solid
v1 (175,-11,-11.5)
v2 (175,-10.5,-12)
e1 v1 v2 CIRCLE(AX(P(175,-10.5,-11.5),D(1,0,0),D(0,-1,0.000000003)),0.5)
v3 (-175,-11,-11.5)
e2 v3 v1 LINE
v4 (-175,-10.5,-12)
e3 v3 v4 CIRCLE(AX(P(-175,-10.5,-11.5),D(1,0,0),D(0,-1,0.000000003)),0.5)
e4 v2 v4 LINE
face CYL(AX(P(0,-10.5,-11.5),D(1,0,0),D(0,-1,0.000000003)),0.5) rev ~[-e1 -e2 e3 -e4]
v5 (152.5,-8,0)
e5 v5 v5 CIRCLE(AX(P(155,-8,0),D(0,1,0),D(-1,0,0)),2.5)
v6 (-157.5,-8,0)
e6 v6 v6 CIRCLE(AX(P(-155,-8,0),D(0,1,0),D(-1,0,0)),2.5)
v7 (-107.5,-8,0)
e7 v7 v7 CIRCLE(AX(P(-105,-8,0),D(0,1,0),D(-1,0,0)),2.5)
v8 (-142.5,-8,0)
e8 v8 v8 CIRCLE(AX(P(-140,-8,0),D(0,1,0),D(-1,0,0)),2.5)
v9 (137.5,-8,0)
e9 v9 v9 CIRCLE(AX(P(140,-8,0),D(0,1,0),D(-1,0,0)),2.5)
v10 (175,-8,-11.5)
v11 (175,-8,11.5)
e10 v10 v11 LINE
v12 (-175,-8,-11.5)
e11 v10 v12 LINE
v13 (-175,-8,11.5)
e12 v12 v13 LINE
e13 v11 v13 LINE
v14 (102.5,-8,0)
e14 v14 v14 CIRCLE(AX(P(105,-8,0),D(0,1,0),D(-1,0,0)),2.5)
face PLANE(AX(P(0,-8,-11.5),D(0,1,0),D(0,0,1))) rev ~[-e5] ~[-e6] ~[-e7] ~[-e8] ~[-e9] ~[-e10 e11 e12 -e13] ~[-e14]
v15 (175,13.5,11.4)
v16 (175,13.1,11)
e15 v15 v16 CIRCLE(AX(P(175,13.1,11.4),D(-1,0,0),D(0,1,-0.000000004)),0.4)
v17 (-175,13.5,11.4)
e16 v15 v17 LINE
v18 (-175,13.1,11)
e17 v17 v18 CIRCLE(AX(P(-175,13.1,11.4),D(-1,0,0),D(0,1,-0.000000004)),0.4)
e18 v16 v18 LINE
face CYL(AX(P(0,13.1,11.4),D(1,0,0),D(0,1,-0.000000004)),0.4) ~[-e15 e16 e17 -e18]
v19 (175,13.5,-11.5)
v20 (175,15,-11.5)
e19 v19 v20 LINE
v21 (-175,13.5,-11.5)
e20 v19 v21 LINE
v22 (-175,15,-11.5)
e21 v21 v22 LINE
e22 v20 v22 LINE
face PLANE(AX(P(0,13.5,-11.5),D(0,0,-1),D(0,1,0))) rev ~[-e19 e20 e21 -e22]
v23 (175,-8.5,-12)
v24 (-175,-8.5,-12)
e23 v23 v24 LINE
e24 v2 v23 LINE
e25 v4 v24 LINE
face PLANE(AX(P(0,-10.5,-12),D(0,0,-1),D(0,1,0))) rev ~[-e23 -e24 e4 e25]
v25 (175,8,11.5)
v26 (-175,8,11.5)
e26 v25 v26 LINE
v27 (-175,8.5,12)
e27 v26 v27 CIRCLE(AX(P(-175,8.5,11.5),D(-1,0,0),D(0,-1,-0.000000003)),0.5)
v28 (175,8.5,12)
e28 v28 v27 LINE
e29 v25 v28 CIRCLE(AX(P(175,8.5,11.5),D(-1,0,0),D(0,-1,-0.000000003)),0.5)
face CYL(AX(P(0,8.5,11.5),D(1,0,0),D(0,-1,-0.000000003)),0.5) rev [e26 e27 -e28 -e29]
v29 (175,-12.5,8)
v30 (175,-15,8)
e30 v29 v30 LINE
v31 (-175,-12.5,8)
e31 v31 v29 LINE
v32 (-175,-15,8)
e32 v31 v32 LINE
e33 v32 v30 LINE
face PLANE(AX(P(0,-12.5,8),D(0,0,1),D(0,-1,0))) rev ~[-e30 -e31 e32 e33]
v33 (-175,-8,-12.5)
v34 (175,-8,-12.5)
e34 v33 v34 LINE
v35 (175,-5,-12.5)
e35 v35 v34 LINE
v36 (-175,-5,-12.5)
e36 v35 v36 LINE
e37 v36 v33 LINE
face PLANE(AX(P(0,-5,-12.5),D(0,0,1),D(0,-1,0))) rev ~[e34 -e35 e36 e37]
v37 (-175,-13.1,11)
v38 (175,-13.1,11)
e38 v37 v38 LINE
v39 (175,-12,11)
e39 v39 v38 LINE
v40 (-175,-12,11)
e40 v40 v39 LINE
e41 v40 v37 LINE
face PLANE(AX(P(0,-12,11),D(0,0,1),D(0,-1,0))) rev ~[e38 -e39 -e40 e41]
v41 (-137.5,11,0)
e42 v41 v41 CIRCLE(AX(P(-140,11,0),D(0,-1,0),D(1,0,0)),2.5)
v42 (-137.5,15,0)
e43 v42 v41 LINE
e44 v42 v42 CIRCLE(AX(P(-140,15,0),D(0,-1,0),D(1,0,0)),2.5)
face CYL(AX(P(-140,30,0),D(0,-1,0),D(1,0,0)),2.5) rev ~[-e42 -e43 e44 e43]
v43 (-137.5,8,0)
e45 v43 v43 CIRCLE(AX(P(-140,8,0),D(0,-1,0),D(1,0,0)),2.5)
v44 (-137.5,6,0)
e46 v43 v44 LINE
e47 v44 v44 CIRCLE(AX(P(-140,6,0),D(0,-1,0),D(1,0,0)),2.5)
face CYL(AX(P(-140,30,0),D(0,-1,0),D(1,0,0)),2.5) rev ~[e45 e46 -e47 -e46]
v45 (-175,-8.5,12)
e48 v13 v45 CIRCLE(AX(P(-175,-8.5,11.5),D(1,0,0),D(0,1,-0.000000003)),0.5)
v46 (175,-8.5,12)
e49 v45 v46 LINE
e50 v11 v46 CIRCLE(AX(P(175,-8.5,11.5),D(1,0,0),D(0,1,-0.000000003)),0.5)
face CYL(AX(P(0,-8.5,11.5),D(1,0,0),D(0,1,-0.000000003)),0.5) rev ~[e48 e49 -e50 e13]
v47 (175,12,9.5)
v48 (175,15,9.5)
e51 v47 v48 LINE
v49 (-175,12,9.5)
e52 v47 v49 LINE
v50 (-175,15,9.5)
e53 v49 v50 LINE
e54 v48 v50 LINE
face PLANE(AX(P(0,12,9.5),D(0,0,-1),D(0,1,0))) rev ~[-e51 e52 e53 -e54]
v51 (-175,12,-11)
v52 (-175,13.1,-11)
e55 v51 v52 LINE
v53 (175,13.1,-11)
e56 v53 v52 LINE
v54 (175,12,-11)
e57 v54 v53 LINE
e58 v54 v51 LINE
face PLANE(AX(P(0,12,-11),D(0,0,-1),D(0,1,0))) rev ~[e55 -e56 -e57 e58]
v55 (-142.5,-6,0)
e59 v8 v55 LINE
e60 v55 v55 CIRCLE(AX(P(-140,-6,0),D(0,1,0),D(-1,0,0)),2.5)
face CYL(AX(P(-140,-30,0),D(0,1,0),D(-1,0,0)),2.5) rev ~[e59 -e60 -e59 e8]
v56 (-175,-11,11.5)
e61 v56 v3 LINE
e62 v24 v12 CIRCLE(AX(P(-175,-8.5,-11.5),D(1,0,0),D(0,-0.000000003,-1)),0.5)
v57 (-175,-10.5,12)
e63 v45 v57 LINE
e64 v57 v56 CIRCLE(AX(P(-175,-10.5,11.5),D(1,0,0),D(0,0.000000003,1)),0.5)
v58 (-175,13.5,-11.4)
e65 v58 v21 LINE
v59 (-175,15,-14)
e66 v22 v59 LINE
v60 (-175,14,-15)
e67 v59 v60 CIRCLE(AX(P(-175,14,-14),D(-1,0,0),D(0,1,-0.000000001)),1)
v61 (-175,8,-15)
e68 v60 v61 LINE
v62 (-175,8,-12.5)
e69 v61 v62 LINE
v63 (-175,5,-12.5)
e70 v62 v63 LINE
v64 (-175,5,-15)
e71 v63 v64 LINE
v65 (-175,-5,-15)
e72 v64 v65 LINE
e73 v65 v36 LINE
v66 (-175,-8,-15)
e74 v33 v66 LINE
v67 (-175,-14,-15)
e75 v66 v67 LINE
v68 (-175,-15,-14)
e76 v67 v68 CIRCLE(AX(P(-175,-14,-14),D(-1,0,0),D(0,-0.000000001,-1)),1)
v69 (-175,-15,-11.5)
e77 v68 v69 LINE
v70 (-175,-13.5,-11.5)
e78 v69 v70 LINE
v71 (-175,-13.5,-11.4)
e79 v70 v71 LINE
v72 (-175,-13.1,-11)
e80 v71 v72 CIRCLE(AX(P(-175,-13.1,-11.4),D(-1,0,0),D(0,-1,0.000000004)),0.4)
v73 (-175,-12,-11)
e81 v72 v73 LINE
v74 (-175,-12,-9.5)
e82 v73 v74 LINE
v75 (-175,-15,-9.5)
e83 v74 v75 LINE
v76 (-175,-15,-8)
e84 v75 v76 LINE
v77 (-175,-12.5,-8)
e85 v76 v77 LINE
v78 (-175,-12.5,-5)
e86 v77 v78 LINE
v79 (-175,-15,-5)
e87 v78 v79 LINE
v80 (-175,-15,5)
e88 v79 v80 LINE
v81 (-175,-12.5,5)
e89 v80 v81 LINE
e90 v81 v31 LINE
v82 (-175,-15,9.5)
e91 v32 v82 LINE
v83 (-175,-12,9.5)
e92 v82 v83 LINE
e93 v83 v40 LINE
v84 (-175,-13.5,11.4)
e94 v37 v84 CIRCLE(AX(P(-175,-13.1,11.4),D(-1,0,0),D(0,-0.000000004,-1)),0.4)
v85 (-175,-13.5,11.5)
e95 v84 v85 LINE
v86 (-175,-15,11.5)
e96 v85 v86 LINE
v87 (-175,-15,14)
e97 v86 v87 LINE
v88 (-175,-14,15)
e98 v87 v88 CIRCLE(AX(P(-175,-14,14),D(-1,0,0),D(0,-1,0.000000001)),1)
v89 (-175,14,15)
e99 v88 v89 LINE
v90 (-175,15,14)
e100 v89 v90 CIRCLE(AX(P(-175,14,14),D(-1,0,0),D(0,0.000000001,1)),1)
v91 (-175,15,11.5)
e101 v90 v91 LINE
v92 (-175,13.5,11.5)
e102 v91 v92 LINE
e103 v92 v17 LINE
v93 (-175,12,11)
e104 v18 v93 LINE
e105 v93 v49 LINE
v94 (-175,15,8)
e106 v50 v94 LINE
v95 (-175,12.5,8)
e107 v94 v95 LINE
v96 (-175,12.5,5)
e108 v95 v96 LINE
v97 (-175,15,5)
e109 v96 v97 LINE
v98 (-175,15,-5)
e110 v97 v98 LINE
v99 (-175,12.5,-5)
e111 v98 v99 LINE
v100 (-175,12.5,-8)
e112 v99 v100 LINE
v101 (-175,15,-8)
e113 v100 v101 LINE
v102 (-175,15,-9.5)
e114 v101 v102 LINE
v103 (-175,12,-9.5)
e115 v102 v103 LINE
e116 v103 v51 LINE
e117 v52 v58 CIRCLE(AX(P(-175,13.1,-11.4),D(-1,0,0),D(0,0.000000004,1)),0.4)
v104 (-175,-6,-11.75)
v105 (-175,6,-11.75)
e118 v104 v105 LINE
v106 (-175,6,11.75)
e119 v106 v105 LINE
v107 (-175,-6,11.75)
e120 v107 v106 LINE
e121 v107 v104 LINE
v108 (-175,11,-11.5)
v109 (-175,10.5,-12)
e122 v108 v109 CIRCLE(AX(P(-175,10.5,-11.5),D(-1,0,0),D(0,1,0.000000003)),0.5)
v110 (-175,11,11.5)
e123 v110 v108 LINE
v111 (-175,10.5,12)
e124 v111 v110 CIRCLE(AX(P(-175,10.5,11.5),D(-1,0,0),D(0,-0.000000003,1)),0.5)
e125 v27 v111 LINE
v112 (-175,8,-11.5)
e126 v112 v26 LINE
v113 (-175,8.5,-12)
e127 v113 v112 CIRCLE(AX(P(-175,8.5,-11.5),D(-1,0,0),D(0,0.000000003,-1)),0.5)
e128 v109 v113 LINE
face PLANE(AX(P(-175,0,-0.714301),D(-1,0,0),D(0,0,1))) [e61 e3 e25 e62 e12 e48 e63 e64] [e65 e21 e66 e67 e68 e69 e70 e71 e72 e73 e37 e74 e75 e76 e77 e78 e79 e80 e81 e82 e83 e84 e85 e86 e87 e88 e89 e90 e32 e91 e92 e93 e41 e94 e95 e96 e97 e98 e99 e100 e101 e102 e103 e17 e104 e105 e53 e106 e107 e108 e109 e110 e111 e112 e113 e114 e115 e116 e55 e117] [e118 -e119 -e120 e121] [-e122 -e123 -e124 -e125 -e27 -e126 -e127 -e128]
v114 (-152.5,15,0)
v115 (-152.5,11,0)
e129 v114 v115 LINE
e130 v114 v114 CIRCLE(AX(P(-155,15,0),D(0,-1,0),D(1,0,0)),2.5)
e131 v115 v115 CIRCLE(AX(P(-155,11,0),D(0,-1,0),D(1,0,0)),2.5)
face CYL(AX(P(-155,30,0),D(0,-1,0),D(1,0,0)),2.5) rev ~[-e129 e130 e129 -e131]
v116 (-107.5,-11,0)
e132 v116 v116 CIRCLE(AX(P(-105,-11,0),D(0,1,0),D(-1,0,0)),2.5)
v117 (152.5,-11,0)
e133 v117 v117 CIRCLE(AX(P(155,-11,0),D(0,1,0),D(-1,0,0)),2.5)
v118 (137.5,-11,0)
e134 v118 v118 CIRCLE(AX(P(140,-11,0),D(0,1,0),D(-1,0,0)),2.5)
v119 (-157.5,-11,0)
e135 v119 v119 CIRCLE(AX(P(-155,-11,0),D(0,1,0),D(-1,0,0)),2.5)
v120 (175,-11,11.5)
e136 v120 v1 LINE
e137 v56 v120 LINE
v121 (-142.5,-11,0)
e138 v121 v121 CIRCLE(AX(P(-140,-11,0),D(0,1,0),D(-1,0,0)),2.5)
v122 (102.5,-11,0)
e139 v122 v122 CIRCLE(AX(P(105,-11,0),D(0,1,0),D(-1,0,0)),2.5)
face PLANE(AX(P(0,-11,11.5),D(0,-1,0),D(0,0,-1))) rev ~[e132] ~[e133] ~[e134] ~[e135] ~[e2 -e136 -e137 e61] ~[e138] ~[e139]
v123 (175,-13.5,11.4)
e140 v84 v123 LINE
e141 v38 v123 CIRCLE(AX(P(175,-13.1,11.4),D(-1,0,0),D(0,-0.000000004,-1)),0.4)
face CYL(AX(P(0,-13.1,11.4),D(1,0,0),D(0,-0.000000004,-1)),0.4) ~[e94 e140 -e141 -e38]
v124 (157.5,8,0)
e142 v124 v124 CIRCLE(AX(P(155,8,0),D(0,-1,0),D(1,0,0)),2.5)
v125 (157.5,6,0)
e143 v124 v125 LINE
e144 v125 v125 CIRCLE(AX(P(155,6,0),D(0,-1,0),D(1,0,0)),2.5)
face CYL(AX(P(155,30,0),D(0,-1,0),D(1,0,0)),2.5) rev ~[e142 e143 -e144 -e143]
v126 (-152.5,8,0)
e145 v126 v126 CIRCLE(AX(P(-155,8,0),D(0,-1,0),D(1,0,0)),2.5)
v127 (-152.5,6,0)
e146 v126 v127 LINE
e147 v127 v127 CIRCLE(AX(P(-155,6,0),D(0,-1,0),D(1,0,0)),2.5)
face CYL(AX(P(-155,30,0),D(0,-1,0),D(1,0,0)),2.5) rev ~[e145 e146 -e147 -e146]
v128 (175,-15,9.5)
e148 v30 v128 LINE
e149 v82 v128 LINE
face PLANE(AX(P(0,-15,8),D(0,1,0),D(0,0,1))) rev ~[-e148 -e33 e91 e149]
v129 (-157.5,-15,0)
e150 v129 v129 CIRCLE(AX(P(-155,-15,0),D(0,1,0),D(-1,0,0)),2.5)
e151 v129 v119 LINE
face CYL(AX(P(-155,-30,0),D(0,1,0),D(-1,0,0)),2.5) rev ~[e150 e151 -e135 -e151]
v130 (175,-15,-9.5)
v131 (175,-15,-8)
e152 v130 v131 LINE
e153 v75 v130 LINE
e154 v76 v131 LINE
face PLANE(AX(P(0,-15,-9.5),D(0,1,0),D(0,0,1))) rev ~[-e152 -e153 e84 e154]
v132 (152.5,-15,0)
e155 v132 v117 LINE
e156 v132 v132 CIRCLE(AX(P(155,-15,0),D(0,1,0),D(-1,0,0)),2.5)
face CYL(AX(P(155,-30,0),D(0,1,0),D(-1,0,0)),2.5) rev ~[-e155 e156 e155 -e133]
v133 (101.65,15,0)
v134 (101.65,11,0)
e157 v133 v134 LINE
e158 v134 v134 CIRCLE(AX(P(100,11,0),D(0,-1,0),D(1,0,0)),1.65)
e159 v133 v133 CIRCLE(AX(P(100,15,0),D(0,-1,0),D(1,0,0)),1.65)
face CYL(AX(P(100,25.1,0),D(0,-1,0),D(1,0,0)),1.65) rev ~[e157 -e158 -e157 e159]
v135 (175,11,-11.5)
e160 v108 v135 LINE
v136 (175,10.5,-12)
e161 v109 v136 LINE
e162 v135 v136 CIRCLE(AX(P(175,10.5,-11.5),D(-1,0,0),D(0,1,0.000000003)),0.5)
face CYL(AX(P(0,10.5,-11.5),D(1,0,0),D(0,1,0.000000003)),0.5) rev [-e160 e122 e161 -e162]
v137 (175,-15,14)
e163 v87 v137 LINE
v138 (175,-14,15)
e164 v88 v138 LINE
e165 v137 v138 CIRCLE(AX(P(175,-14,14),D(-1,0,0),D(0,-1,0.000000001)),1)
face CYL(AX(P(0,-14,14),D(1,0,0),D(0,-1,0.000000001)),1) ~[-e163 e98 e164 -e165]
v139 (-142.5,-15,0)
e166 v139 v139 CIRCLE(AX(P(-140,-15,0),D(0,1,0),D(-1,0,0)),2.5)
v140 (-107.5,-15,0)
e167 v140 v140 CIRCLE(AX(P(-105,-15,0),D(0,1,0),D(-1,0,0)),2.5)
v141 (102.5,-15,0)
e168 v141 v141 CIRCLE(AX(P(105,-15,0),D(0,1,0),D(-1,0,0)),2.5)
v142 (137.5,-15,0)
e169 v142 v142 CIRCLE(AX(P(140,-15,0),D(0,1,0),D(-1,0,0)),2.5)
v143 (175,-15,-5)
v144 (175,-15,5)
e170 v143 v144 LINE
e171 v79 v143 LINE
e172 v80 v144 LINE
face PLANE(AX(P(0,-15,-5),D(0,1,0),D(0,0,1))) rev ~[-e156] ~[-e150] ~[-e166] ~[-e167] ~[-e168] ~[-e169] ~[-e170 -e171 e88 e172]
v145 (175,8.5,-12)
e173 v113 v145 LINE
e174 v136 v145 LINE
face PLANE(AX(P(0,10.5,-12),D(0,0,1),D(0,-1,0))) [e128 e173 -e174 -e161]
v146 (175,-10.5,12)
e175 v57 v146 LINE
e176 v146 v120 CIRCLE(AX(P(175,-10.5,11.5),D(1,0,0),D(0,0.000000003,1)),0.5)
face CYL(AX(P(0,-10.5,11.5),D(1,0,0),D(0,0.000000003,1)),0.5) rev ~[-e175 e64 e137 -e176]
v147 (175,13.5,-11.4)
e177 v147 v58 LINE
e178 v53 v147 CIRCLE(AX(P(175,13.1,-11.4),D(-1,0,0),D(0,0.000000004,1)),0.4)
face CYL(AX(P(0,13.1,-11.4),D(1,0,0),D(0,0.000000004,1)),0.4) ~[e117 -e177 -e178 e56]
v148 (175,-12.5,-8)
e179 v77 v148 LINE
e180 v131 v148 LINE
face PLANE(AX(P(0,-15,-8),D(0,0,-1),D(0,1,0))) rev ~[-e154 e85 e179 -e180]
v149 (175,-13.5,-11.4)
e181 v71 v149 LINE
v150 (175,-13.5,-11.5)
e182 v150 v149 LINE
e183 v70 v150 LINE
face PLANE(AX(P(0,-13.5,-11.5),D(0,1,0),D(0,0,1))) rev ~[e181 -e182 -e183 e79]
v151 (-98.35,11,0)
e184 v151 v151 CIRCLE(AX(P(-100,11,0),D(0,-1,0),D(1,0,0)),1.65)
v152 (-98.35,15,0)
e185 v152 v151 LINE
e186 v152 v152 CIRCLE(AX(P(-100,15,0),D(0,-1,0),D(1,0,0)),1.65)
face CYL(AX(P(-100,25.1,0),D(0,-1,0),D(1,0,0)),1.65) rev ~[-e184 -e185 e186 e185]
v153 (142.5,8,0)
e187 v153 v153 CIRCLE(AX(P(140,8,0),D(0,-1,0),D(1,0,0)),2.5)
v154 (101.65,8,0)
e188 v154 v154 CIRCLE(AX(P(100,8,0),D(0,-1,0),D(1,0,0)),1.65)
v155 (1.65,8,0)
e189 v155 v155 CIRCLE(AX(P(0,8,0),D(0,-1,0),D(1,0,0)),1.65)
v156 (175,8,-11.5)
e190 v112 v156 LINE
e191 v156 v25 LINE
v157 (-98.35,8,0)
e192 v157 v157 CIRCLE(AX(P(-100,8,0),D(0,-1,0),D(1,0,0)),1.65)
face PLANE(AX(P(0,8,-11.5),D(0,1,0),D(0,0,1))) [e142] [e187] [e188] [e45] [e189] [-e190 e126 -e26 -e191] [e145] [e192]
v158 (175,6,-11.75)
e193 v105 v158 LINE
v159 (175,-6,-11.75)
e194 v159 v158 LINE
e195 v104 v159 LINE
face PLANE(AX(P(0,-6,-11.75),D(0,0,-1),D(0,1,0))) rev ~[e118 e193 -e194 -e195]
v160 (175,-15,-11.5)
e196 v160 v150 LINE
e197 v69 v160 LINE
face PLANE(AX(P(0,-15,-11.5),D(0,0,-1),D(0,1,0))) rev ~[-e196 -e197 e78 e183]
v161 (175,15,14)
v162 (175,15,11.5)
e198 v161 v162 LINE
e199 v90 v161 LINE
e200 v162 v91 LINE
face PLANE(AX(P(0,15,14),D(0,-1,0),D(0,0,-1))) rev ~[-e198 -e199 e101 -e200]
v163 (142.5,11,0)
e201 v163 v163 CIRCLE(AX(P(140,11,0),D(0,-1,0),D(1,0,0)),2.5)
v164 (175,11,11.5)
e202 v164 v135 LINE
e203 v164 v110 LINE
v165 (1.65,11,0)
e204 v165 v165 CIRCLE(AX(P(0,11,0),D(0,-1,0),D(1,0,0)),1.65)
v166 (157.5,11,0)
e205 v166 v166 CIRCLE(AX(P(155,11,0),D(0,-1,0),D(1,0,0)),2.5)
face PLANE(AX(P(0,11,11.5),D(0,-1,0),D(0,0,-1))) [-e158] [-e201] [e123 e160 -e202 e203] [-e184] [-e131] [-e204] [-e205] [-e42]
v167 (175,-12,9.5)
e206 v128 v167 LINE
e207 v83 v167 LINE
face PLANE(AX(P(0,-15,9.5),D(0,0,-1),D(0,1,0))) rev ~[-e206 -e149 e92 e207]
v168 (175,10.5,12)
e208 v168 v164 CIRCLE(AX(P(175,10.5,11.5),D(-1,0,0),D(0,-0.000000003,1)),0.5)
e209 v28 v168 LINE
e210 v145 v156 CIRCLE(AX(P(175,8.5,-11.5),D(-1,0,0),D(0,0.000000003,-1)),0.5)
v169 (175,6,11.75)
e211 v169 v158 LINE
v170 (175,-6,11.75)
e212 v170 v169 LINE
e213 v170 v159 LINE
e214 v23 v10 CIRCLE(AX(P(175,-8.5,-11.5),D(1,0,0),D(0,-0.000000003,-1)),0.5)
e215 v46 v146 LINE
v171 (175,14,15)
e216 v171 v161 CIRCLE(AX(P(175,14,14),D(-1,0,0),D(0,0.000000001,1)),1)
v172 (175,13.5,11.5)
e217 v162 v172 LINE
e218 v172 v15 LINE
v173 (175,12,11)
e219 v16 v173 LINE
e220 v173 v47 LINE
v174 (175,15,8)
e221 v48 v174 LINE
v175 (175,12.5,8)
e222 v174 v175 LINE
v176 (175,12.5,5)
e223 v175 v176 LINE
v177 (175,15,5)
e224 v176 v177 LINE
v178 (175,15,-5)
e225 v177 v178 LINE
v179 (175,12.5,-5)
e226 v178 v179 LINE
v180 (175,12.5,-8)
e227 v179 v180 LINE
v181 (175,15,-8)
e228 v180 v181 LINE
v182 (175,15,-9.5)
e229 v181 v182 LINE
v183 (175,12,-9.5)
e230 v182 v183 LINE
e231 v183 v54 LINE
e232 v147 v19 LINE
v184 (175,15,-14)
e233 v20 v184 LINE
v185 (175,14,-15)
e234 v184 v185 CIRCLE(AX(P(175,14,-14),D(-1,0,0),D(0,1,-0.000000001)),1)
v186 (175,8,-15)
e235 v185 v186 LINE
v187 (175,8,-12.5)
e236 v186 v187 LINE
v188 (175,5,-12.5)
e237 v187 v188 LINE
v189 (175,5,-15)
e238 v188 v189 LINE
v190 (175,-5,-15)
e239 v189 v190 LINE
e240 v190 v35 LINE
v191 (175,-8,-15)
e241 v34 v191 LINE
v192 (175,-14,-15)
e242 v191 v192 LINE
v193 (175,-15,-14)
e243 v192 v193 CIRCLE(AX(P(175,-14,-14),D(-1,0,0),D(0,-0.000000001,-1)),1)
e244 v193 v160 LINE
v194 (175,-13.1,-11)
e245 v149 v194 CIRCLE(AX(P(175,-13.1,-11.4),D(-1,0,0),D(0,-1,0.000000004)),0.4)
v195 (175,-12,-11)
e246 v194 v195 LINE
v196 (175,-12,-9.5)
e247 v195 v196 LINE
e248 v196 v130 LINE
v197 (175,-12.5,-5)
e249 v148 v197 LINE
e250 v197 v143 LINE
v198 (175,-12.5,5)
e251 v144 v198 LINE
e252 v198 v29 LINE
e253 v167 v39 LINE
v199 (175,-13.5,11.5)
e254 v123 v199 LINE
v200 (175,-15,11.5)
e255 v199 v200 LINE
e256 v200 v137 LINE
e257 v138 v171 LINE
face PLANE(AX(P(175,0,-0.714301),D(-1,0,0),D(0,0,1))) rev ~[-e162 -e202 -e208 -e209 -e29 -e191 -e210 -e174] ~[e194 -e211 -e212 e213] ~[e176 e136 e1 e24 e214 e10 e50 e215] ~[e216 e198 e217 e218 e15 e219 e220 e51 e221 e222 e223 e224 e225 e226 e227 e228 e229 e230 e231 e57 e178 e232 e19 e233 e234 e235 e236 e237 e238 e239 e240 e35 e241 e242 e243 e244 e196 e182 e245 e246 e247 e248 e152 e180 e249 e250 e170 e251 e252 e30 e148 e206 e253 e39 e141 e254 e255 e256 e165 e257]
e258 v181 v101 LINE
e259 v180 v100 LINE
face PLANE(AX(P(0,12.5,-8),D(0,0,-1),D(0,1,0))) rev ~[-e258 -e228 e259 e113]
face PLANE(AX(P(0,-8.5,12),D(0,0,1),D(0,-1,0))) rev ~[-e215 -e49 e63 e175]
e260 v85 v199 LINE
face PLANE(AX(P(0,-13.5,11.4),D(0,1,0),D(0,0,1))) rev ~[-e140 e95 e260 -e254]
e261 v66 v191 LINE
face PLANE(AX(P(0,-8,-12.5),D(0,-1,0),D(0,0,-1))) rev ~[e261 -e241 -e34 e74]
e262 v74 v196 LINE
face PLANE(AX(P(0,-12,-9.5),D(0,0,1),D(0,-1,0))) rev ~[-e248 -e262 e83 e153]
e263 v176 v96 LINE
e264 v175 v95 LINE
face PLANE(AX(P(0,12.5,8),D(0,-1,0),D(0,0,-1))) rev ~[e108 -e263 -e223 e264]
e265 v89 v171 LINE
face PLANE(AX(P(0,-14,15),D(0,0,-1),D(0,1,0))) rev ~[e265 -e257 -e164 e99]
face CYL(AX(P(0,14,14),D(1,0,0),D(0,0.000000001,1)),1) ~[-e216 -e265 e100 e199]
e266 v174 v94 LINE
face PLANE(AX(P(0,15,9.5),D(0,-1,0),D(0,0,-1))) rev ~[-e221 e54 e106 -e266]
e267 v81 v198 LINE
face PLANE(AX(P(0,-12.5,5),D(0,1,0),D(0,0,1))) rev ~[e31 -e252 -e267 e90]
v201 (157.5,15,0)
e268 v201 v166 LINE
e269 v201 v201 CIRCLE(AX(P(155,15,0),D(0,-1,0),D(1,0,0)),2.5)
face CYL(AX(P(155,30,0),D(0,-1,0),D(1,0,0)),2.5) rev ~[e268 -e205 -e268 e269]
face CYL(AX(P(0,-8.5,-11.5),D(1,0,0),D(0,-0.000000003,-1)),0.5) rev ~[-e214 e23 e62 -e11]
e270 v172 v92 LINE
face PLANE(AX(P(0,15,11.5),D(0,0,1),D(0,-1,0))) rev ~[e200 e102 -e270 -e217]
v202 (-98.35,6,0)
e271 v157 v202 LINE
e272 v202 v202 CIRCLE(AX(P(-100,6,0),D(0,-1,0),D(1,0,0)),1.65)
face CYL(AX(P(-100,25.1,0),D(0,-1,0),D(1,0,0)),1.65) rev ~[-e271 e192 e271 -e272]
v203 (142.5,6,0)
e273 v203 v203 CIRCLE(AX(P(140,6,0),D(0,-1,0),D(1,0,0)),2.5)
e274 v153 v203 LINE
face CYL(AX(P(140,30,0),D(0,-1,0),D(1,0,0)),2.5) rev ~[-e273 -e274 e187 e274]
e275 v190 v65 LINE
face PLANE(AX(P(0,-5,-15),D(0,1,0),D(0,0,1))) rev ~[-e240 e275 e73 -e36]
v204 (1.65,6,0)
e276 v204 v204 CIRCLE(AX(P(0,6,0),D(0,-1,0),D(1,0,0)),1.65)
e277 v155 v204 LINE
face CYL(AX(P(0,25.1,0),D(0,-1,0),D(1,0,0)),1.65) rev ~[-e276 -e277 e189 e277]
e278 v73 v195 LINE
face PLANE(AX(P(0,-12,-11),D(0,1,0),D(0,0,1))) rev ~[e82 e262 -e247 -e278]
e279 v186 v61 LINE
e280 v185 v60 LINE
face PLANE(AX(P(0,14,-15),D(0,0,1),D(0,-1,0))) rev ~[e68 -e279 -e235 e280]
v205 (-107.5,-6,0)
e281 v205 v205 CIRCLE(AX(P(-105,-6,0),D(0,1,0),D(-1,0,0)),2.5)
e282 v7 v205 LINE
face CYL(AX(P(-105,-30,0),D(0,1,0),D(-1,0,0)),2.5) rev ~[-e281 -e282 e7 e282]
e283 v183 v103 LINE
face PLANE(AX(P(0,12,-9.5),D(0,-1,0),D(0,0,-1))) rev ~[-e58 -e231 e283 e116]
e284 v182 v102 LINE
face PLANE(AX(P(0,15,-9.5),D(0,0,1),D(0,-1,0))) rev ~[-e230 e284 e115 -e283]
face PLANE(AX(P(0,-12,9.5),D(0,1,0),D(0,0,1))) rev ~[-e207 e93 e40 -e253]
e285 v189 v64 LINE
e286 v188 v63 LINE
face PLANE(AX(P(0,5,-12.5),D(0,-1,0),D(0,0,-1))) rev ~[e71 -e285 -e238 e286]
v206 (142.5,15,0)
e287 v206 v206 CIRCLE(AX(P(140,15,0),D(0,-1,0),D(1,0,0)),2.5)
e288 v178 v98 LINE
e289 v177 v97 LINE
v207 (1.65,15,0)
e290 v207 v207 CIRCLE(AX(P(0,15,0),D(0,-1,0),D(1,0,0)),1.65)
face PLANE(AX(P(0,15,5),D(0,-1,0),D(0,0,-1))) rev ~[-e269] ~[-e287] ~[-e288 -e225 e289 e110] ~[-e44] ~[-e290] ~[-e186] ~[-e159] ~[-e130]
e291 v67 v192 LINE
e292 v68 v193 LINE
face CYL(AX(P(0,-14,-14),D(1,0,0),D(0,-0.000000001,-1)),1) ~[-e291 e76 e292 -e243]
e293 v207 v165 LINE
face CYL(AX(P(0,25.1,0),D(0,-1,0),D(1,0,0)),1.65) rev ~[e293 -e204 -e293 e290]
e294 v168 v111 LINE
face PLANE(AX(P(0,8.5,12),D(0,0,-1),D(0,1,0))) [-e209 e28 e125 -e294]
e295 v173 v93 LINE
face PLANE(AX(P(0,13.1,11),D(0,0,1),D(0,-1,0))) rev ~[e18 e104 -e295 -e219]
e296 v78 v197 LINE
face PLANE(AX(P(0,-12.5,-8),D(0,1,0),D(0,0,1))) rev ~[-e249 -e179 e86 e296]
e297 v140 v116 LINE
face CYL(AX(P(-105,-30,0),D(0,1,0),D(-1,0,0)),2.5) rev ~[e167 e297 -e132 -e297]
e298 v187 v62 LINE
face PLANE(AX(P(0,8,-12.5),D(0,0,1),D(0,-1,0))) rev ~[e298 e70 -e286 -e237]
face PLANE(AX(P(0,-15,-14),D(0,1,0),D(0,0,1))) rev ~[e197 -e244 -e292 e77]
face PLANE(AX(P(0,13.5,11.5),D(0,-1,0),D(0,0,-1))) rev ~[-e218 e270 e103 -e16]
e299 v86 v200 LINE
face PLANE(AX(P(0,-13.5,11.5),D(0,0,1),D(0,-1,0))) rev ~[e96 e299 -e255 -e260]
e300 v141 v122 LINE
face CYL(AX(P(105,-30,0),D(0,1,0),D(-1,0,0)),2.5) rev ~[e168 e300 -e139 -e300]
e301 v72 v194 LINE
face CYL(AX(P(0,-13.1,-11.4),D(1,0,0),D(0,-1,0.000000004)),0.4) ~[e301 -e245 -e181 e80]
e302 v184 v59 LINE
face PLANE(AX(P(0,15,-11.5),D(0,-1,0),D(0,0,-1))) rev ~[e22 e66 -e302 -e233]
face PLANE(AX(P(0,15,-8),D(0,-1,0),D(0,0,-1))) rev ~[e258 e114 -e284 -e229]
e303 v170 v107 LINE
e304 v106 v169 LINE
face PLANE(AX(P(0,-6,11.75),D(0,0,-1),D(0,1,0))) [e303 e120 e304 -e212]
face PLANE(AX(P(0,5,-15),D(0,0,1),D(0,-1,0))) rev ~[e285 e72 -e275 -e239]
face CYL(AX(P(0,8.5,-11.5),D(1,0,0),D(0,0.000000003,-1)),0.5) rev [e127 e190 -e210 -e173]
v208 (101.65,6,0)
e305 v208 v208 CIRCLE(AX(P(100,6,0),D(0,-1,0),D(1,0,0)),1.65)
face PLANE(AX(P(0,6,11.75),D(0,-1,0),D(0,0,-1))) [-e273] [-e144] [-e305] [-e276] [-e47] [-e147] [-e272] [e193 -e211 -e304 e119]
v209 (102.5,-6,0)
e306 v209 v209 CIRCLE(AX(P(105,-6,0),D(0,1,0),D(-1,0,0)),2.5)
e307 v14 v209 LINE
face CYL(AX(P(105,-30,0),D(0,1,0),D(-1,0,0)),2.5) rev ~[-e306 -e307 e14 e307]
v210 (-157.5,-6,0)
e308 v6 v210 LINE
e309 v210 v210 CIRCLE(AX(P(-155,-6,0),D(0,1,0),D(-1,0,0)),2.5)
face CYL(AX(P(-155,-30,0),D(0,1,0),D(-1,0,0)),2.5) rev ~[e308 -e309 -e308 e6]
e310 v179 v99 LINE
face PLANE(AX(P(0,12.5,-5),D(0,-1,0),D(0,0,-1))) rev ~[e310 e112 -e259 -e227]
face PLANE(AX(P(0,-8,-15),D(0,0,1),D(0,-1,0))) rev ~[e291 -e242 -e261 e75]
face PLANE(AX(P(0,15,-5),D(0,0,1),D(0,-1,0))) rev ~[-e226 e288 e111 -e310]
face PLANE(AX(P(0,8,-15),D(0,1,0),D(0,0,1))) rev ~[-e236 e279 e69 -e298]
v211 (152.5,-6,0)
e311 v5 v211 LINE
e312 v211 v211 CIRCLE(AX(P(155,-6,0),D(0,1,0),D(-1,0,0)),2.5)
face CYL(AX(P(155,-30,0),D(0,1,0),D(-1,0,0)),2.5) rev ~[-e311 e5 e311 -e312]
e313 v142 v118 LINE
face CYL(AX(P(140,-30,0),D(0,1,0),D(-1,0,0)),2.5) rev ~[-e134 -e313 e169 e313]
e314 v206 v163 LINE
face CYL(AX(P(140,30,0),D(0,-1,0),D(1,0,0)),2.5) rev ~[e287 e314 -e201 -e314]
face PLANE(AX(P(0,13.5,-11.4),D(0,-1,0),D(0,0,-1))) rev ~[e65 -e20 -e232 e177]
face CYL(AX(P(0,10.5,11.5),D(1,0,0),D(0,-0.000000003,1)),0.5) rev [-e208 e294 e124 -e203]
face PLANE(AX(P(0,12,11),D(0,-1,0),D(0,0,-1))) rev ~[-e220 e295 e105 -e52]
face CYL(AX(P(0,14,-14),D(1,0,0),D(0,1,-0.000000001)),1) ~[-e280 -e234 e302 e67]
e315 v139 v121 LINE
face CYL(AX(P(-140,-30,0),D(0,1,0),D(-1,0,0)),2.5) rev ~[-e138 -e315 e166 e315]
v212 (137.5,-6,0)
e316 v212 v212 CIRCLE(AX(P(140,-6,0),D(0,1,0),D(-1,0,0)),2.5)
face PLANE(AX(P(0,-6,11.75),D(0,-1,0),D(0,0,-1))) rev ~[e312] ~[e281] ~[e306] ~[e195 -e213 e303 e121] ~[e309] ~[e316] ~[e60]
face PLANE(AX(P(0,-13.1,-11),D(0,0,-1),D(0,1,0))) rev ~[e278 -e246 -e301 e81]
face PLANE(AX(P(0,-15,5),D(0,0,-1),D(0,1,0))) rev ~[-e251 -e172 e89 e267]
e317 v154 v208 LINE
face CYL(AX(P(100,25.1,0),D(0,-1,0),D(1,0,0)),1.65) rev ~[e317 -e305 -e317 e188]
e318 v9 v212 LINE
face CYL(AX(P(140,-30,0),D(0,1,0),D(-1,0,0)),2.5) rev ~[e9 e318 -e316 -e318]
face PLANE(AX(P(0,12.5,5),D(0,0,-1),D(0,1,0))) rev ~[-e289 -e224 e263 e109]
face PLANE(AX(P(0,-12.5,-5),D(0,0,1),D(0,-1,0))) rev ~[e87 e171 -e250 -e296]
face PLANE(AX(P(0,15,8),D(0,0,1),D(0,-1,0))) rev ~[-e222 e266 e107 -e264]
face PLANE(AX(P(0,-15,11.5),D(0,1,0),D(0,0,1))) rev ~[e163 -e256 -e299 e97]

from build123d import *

# Parameters (mm, degrees)
SKETCH_1_W             = 23.5
SKETCH_1_H             = 12
EXTRUDE_1_DEPTH        = 175
HOLE_WIZARD_M6_1_D     = 5
HOLE_WIZARD_M6_1_DEPTH = 15
HOLE_WIZARD_M6_1_TIP   = 1.502151548
HOLE_WIZARD_M6_2_D     = 5
HOLE_WIZARD_M6_2_DEPTH = 15
HOLE_WIZARD_M6_2_TIP   = 1.502151548
HOLE_WIZARD_M4_1_D     = 3.3
HOLE_WIZARD_M4_1_DEPTH = 10.1
HOLE_WIZARD_M4_1_TIP   = 0.991420021
HOLE_WIZARD_M6_3_D     = 5
HOLE_WIZARD_M6_3_DEPTH = 15
HOLE_WIZARD_M6_3_TIP   = 1.502151548


with BuildPart() as part:
    # 草图1 → 凸台-拉伸1 (new, symmetric)
    with BuildSketch(Plane(origin=(0, 0, 0), x_dir=(0, 0, -1), z_dir=(1, 0, 0))):
        with BuildLine():
            Line((-14, 15), (-11.5, 15))
            Line((-11.5, 15), (-11.5, 13.5))
            Line((-11.5, 13.5), (-11.4, 13.5))
            ThreePointArc((-11.4, 13.5), (-11.117157288, 13.382842712), (-11, 13.1))
            Line((-11, 13.1), (-11, 12))
            Line((-11, 12), (-9.5, 12))
            Line((-9.5, 12), (-9.5, 15))
            Line((-9.5, 15), (-8, 15))
            Line((-8, 15), (-8, 12.5))
            Line((-8, 12.5), (-5, 12.5))
            Line((-5, 12.5), (-5, 15))
            Line((-5, 15), (5, 15))
            Line((5, 15), (5, 12.5))
            Line((5, 12.5), (8, 12.5))
            Line((8, 12.5), (8, 15))
            Line((8, 15), (9.5, 15))
            Line((9.5, 15), (9.5, 12))
            Line((9.5, 12), (11, 12))
            Line((11, 12), (11, 13.1))
            ThreePointArc((11, 13.1), (11.117157288, 13.382842712), (11.4, 13.5))
            Line((11.4, 13.5), (11.5, 13.5))
            Line((11.5, 13.5), (11.5, 15))
            Line((11.5, 15), (14, 15))
            ThreePointArc((14, 15), (14.707106781, 14.707106781), (15, 14))
            Line((15, 14), (15, 8))
            Line((15, 8), (12.5, 8))
            Line((12.5, 8), (12.5, 5))
            Line((12.5, 5), (15, 5))
            Line((15, 5), (15, -5))
            Line((15, -5), (12.5, -5))
            Line((12.5, -5), (12.5, -8))
            Line((12.5, -8), (15, -8))
            Line((15, -8), (15, -14))
            ThreePointArc((15, -14), (14.707106781, -14.707106781), (14, -15))
            Line((14, -15), (11.5, -15))
            Line((11.5, -15), (11.5, -13.5))
            Line((11.5, -13.5), (11.4, -13.5))
            ThreePointArc((11.4, -13.5), (11.117157288, -13.382842712), (11, -13.1))
            Line((11, -13.1), (11, -12))
            Line((11, -12), (9.5, -12))
            Line((9.5, -12), (9.5, -15))
            Line((9.5, -15), (8, -15))
            Line((8, -15), (8, -12.5))
            Line((8, -12.5), (5, -12.5))
            Line((5, -12.5), (5, -15))
            Line((5, -15), (-5, -15))
            Line((-5, -15), (-5, -12.5))
            Line((-5, -12.5), (-8, -12.5))
            Line((-8, -12.5), (-8, -15))
            Line((-8, -15), (-9.5, -15))
            Line((-9.5, -15), (-9.5, -12))
            Line((-9.5, -12), (-11, -12))
            Line((-11, -12), (-11, -13.1))
            ThreePointArc((-11, -13.1), (-11.117157288, -13.382842712), (-11.4, -13.5))
            Line((-11.4, -13.5), (-11.5, -13.5))
            Line((-11.5, -13.5), (-11.5, -15))
            Line((-11.5, -15), (-14, -15))
            ThreePointArc((-14, -15), (-14.707106781, -14.707106781), (-15, -14))
            Line((-15, -14), (-15, 14))
            ThreePointArc((-15, 14), (-14.707106781, 14.707106781), (-14, 15))
        make_face()
        with BuildLine():
            Line((12, -10.5), (12, -8.5))
            ThreePointArc((12, -8.5), (11.853553391, -8.146446609), (11.5, -8))
            Line((11.5, -8), (-11.5, -8))
            ThreePointArc((-11.5, -8), (-11.853553391, -8.146446609), (-12, -8.5))
            Line((-12, -8.5), (-12, -10.5))
            ThreePointArc((-12, -10.5), (-11.853553391, -10.853553391), (-11.5, -11))
            Line((-11.5, -11), (11.5, -11))
            ThreePointArc((11.5, -11), (11.853553391, -10.853553391), (12, -10.5))
        make_face(mode=Mode.SUBTRACT)
        with BuildLine():
            Line((-11.5, 11), (11.5, 11))
            ThreePointArc((11.5, 11), (11.853553391, 10.853553391), (12, 10.5))
            Line((12, 10.5), (12, 8.5))
            ThreePointArc((12, 8.5), (11.853553391, 8.146446609), (11.5, 8))
            Line((11.5, 8), (-11.5, 8))
            ThreePointArc((-11.5, 8), (-11.853553391, 8.146446609), (-12, 8.5))
            Line((-12, 8.5), (-12, 10.5))
            ThreePointArc((-12, 10.5), (-11.853553391, 10.853553391), (-11.5, 11))
        make_face(mode=Mode.SUBTRACT)
        Rectangle(SKETCH_1_W, SKETCH_1_H, mode=Mode.SUBTRACT)
    extrude(amount=EXTRUDE_1_DEPTH, both=True)

    # M6 螺纹孔1
    with Locations(Plane.XZ.offset(15)):
        with Locations((-155, 0), (-140, 0), (155, 0), (140, 0)):
            Hole(HOLE_WIZARD_M6_1_D / 2, depth=HOLE_WIZARD_M6_1_DEPTH)
            with Locations((0, 0, -(HOLE_WIZARD_M6_1_DEPTH + HOLE_WIZARD_M6_1_TIP / 2))):  # 118° drill point
                Cone(0, HOLE_WIZARD_M6_1_D / 2, HOLE_WIZARD_M6_1_TIP, mode=Mode.SUBTRACT)

    # M6 螺纹孔2
    with Locations(Plane(origin=(0, 15, 0), x_dir=(-1, 0, 0), z_dir=(0, 1, 0))):
        with Locations((155, 0), (140, 0), (-155, 0), (-140, 0)):
            Hole(HOLE_WIZARD_M6_2_D / 2, depth=HOLE_WIZARD_M6_2_DEPTH)
            with Locations((0, 0, -(HOLE_WIZARD_M6_2_DEPTH + HOLE_WIZARD_M6_2_TIP / 2))):  # 118° drill point
                Cone(0, HOLE_WIZARD_M6_2_D / 2, HOLE_WIZARD_M6_2_TIP, mode=Mode.SUBTRACT)

    # M4 螺纹孔1
    with Locations(Plane(origin=(0, 15, 0), x_dir=(-1, 0, 0), z_dir=(0, 1, 0))):
        with Locations((100, 0), (0, 0), (-100, 0)):
            Hole(HOLE_WIZARD_M4_1_D / 2, depth=HOLE_WIZARD_M4_1_DEPTH)
            with Locations((0, 0, -(HOLE_WIZARD_M4_1_DEPTH + HOLE_WIZARD_M4_1_TIP / 2))):  # 118° drill point
                Cone(0, HOLE_WIZARD_M4_1_D / 2, HOLE_WIZARD_M4_1_TIP, mode=Mode.SUBTRACT)

    # M6 螺纹孔3
    with Locations(Plane.XZ.offset(15)):
        with Locations((-105, 0), (105, 0)):
            Hole(HOLE_WIZARD_M6_3_D / 2, depth=HOLE_WIZARD_M6_3_DEPTH)
            with Locations((0, 0, -(HOLE_WIZARD_M6_3_DEPTH + HOLE_WIZARD_M6_3_TIP / 2))):  # 118° drill point
                Cone(0, HOLE_WIZARD_M6_3_D / 2, HOLE_WIZARD_M6_3_TIP, mode=Mode.SUBTRACT)


solid = part.part
